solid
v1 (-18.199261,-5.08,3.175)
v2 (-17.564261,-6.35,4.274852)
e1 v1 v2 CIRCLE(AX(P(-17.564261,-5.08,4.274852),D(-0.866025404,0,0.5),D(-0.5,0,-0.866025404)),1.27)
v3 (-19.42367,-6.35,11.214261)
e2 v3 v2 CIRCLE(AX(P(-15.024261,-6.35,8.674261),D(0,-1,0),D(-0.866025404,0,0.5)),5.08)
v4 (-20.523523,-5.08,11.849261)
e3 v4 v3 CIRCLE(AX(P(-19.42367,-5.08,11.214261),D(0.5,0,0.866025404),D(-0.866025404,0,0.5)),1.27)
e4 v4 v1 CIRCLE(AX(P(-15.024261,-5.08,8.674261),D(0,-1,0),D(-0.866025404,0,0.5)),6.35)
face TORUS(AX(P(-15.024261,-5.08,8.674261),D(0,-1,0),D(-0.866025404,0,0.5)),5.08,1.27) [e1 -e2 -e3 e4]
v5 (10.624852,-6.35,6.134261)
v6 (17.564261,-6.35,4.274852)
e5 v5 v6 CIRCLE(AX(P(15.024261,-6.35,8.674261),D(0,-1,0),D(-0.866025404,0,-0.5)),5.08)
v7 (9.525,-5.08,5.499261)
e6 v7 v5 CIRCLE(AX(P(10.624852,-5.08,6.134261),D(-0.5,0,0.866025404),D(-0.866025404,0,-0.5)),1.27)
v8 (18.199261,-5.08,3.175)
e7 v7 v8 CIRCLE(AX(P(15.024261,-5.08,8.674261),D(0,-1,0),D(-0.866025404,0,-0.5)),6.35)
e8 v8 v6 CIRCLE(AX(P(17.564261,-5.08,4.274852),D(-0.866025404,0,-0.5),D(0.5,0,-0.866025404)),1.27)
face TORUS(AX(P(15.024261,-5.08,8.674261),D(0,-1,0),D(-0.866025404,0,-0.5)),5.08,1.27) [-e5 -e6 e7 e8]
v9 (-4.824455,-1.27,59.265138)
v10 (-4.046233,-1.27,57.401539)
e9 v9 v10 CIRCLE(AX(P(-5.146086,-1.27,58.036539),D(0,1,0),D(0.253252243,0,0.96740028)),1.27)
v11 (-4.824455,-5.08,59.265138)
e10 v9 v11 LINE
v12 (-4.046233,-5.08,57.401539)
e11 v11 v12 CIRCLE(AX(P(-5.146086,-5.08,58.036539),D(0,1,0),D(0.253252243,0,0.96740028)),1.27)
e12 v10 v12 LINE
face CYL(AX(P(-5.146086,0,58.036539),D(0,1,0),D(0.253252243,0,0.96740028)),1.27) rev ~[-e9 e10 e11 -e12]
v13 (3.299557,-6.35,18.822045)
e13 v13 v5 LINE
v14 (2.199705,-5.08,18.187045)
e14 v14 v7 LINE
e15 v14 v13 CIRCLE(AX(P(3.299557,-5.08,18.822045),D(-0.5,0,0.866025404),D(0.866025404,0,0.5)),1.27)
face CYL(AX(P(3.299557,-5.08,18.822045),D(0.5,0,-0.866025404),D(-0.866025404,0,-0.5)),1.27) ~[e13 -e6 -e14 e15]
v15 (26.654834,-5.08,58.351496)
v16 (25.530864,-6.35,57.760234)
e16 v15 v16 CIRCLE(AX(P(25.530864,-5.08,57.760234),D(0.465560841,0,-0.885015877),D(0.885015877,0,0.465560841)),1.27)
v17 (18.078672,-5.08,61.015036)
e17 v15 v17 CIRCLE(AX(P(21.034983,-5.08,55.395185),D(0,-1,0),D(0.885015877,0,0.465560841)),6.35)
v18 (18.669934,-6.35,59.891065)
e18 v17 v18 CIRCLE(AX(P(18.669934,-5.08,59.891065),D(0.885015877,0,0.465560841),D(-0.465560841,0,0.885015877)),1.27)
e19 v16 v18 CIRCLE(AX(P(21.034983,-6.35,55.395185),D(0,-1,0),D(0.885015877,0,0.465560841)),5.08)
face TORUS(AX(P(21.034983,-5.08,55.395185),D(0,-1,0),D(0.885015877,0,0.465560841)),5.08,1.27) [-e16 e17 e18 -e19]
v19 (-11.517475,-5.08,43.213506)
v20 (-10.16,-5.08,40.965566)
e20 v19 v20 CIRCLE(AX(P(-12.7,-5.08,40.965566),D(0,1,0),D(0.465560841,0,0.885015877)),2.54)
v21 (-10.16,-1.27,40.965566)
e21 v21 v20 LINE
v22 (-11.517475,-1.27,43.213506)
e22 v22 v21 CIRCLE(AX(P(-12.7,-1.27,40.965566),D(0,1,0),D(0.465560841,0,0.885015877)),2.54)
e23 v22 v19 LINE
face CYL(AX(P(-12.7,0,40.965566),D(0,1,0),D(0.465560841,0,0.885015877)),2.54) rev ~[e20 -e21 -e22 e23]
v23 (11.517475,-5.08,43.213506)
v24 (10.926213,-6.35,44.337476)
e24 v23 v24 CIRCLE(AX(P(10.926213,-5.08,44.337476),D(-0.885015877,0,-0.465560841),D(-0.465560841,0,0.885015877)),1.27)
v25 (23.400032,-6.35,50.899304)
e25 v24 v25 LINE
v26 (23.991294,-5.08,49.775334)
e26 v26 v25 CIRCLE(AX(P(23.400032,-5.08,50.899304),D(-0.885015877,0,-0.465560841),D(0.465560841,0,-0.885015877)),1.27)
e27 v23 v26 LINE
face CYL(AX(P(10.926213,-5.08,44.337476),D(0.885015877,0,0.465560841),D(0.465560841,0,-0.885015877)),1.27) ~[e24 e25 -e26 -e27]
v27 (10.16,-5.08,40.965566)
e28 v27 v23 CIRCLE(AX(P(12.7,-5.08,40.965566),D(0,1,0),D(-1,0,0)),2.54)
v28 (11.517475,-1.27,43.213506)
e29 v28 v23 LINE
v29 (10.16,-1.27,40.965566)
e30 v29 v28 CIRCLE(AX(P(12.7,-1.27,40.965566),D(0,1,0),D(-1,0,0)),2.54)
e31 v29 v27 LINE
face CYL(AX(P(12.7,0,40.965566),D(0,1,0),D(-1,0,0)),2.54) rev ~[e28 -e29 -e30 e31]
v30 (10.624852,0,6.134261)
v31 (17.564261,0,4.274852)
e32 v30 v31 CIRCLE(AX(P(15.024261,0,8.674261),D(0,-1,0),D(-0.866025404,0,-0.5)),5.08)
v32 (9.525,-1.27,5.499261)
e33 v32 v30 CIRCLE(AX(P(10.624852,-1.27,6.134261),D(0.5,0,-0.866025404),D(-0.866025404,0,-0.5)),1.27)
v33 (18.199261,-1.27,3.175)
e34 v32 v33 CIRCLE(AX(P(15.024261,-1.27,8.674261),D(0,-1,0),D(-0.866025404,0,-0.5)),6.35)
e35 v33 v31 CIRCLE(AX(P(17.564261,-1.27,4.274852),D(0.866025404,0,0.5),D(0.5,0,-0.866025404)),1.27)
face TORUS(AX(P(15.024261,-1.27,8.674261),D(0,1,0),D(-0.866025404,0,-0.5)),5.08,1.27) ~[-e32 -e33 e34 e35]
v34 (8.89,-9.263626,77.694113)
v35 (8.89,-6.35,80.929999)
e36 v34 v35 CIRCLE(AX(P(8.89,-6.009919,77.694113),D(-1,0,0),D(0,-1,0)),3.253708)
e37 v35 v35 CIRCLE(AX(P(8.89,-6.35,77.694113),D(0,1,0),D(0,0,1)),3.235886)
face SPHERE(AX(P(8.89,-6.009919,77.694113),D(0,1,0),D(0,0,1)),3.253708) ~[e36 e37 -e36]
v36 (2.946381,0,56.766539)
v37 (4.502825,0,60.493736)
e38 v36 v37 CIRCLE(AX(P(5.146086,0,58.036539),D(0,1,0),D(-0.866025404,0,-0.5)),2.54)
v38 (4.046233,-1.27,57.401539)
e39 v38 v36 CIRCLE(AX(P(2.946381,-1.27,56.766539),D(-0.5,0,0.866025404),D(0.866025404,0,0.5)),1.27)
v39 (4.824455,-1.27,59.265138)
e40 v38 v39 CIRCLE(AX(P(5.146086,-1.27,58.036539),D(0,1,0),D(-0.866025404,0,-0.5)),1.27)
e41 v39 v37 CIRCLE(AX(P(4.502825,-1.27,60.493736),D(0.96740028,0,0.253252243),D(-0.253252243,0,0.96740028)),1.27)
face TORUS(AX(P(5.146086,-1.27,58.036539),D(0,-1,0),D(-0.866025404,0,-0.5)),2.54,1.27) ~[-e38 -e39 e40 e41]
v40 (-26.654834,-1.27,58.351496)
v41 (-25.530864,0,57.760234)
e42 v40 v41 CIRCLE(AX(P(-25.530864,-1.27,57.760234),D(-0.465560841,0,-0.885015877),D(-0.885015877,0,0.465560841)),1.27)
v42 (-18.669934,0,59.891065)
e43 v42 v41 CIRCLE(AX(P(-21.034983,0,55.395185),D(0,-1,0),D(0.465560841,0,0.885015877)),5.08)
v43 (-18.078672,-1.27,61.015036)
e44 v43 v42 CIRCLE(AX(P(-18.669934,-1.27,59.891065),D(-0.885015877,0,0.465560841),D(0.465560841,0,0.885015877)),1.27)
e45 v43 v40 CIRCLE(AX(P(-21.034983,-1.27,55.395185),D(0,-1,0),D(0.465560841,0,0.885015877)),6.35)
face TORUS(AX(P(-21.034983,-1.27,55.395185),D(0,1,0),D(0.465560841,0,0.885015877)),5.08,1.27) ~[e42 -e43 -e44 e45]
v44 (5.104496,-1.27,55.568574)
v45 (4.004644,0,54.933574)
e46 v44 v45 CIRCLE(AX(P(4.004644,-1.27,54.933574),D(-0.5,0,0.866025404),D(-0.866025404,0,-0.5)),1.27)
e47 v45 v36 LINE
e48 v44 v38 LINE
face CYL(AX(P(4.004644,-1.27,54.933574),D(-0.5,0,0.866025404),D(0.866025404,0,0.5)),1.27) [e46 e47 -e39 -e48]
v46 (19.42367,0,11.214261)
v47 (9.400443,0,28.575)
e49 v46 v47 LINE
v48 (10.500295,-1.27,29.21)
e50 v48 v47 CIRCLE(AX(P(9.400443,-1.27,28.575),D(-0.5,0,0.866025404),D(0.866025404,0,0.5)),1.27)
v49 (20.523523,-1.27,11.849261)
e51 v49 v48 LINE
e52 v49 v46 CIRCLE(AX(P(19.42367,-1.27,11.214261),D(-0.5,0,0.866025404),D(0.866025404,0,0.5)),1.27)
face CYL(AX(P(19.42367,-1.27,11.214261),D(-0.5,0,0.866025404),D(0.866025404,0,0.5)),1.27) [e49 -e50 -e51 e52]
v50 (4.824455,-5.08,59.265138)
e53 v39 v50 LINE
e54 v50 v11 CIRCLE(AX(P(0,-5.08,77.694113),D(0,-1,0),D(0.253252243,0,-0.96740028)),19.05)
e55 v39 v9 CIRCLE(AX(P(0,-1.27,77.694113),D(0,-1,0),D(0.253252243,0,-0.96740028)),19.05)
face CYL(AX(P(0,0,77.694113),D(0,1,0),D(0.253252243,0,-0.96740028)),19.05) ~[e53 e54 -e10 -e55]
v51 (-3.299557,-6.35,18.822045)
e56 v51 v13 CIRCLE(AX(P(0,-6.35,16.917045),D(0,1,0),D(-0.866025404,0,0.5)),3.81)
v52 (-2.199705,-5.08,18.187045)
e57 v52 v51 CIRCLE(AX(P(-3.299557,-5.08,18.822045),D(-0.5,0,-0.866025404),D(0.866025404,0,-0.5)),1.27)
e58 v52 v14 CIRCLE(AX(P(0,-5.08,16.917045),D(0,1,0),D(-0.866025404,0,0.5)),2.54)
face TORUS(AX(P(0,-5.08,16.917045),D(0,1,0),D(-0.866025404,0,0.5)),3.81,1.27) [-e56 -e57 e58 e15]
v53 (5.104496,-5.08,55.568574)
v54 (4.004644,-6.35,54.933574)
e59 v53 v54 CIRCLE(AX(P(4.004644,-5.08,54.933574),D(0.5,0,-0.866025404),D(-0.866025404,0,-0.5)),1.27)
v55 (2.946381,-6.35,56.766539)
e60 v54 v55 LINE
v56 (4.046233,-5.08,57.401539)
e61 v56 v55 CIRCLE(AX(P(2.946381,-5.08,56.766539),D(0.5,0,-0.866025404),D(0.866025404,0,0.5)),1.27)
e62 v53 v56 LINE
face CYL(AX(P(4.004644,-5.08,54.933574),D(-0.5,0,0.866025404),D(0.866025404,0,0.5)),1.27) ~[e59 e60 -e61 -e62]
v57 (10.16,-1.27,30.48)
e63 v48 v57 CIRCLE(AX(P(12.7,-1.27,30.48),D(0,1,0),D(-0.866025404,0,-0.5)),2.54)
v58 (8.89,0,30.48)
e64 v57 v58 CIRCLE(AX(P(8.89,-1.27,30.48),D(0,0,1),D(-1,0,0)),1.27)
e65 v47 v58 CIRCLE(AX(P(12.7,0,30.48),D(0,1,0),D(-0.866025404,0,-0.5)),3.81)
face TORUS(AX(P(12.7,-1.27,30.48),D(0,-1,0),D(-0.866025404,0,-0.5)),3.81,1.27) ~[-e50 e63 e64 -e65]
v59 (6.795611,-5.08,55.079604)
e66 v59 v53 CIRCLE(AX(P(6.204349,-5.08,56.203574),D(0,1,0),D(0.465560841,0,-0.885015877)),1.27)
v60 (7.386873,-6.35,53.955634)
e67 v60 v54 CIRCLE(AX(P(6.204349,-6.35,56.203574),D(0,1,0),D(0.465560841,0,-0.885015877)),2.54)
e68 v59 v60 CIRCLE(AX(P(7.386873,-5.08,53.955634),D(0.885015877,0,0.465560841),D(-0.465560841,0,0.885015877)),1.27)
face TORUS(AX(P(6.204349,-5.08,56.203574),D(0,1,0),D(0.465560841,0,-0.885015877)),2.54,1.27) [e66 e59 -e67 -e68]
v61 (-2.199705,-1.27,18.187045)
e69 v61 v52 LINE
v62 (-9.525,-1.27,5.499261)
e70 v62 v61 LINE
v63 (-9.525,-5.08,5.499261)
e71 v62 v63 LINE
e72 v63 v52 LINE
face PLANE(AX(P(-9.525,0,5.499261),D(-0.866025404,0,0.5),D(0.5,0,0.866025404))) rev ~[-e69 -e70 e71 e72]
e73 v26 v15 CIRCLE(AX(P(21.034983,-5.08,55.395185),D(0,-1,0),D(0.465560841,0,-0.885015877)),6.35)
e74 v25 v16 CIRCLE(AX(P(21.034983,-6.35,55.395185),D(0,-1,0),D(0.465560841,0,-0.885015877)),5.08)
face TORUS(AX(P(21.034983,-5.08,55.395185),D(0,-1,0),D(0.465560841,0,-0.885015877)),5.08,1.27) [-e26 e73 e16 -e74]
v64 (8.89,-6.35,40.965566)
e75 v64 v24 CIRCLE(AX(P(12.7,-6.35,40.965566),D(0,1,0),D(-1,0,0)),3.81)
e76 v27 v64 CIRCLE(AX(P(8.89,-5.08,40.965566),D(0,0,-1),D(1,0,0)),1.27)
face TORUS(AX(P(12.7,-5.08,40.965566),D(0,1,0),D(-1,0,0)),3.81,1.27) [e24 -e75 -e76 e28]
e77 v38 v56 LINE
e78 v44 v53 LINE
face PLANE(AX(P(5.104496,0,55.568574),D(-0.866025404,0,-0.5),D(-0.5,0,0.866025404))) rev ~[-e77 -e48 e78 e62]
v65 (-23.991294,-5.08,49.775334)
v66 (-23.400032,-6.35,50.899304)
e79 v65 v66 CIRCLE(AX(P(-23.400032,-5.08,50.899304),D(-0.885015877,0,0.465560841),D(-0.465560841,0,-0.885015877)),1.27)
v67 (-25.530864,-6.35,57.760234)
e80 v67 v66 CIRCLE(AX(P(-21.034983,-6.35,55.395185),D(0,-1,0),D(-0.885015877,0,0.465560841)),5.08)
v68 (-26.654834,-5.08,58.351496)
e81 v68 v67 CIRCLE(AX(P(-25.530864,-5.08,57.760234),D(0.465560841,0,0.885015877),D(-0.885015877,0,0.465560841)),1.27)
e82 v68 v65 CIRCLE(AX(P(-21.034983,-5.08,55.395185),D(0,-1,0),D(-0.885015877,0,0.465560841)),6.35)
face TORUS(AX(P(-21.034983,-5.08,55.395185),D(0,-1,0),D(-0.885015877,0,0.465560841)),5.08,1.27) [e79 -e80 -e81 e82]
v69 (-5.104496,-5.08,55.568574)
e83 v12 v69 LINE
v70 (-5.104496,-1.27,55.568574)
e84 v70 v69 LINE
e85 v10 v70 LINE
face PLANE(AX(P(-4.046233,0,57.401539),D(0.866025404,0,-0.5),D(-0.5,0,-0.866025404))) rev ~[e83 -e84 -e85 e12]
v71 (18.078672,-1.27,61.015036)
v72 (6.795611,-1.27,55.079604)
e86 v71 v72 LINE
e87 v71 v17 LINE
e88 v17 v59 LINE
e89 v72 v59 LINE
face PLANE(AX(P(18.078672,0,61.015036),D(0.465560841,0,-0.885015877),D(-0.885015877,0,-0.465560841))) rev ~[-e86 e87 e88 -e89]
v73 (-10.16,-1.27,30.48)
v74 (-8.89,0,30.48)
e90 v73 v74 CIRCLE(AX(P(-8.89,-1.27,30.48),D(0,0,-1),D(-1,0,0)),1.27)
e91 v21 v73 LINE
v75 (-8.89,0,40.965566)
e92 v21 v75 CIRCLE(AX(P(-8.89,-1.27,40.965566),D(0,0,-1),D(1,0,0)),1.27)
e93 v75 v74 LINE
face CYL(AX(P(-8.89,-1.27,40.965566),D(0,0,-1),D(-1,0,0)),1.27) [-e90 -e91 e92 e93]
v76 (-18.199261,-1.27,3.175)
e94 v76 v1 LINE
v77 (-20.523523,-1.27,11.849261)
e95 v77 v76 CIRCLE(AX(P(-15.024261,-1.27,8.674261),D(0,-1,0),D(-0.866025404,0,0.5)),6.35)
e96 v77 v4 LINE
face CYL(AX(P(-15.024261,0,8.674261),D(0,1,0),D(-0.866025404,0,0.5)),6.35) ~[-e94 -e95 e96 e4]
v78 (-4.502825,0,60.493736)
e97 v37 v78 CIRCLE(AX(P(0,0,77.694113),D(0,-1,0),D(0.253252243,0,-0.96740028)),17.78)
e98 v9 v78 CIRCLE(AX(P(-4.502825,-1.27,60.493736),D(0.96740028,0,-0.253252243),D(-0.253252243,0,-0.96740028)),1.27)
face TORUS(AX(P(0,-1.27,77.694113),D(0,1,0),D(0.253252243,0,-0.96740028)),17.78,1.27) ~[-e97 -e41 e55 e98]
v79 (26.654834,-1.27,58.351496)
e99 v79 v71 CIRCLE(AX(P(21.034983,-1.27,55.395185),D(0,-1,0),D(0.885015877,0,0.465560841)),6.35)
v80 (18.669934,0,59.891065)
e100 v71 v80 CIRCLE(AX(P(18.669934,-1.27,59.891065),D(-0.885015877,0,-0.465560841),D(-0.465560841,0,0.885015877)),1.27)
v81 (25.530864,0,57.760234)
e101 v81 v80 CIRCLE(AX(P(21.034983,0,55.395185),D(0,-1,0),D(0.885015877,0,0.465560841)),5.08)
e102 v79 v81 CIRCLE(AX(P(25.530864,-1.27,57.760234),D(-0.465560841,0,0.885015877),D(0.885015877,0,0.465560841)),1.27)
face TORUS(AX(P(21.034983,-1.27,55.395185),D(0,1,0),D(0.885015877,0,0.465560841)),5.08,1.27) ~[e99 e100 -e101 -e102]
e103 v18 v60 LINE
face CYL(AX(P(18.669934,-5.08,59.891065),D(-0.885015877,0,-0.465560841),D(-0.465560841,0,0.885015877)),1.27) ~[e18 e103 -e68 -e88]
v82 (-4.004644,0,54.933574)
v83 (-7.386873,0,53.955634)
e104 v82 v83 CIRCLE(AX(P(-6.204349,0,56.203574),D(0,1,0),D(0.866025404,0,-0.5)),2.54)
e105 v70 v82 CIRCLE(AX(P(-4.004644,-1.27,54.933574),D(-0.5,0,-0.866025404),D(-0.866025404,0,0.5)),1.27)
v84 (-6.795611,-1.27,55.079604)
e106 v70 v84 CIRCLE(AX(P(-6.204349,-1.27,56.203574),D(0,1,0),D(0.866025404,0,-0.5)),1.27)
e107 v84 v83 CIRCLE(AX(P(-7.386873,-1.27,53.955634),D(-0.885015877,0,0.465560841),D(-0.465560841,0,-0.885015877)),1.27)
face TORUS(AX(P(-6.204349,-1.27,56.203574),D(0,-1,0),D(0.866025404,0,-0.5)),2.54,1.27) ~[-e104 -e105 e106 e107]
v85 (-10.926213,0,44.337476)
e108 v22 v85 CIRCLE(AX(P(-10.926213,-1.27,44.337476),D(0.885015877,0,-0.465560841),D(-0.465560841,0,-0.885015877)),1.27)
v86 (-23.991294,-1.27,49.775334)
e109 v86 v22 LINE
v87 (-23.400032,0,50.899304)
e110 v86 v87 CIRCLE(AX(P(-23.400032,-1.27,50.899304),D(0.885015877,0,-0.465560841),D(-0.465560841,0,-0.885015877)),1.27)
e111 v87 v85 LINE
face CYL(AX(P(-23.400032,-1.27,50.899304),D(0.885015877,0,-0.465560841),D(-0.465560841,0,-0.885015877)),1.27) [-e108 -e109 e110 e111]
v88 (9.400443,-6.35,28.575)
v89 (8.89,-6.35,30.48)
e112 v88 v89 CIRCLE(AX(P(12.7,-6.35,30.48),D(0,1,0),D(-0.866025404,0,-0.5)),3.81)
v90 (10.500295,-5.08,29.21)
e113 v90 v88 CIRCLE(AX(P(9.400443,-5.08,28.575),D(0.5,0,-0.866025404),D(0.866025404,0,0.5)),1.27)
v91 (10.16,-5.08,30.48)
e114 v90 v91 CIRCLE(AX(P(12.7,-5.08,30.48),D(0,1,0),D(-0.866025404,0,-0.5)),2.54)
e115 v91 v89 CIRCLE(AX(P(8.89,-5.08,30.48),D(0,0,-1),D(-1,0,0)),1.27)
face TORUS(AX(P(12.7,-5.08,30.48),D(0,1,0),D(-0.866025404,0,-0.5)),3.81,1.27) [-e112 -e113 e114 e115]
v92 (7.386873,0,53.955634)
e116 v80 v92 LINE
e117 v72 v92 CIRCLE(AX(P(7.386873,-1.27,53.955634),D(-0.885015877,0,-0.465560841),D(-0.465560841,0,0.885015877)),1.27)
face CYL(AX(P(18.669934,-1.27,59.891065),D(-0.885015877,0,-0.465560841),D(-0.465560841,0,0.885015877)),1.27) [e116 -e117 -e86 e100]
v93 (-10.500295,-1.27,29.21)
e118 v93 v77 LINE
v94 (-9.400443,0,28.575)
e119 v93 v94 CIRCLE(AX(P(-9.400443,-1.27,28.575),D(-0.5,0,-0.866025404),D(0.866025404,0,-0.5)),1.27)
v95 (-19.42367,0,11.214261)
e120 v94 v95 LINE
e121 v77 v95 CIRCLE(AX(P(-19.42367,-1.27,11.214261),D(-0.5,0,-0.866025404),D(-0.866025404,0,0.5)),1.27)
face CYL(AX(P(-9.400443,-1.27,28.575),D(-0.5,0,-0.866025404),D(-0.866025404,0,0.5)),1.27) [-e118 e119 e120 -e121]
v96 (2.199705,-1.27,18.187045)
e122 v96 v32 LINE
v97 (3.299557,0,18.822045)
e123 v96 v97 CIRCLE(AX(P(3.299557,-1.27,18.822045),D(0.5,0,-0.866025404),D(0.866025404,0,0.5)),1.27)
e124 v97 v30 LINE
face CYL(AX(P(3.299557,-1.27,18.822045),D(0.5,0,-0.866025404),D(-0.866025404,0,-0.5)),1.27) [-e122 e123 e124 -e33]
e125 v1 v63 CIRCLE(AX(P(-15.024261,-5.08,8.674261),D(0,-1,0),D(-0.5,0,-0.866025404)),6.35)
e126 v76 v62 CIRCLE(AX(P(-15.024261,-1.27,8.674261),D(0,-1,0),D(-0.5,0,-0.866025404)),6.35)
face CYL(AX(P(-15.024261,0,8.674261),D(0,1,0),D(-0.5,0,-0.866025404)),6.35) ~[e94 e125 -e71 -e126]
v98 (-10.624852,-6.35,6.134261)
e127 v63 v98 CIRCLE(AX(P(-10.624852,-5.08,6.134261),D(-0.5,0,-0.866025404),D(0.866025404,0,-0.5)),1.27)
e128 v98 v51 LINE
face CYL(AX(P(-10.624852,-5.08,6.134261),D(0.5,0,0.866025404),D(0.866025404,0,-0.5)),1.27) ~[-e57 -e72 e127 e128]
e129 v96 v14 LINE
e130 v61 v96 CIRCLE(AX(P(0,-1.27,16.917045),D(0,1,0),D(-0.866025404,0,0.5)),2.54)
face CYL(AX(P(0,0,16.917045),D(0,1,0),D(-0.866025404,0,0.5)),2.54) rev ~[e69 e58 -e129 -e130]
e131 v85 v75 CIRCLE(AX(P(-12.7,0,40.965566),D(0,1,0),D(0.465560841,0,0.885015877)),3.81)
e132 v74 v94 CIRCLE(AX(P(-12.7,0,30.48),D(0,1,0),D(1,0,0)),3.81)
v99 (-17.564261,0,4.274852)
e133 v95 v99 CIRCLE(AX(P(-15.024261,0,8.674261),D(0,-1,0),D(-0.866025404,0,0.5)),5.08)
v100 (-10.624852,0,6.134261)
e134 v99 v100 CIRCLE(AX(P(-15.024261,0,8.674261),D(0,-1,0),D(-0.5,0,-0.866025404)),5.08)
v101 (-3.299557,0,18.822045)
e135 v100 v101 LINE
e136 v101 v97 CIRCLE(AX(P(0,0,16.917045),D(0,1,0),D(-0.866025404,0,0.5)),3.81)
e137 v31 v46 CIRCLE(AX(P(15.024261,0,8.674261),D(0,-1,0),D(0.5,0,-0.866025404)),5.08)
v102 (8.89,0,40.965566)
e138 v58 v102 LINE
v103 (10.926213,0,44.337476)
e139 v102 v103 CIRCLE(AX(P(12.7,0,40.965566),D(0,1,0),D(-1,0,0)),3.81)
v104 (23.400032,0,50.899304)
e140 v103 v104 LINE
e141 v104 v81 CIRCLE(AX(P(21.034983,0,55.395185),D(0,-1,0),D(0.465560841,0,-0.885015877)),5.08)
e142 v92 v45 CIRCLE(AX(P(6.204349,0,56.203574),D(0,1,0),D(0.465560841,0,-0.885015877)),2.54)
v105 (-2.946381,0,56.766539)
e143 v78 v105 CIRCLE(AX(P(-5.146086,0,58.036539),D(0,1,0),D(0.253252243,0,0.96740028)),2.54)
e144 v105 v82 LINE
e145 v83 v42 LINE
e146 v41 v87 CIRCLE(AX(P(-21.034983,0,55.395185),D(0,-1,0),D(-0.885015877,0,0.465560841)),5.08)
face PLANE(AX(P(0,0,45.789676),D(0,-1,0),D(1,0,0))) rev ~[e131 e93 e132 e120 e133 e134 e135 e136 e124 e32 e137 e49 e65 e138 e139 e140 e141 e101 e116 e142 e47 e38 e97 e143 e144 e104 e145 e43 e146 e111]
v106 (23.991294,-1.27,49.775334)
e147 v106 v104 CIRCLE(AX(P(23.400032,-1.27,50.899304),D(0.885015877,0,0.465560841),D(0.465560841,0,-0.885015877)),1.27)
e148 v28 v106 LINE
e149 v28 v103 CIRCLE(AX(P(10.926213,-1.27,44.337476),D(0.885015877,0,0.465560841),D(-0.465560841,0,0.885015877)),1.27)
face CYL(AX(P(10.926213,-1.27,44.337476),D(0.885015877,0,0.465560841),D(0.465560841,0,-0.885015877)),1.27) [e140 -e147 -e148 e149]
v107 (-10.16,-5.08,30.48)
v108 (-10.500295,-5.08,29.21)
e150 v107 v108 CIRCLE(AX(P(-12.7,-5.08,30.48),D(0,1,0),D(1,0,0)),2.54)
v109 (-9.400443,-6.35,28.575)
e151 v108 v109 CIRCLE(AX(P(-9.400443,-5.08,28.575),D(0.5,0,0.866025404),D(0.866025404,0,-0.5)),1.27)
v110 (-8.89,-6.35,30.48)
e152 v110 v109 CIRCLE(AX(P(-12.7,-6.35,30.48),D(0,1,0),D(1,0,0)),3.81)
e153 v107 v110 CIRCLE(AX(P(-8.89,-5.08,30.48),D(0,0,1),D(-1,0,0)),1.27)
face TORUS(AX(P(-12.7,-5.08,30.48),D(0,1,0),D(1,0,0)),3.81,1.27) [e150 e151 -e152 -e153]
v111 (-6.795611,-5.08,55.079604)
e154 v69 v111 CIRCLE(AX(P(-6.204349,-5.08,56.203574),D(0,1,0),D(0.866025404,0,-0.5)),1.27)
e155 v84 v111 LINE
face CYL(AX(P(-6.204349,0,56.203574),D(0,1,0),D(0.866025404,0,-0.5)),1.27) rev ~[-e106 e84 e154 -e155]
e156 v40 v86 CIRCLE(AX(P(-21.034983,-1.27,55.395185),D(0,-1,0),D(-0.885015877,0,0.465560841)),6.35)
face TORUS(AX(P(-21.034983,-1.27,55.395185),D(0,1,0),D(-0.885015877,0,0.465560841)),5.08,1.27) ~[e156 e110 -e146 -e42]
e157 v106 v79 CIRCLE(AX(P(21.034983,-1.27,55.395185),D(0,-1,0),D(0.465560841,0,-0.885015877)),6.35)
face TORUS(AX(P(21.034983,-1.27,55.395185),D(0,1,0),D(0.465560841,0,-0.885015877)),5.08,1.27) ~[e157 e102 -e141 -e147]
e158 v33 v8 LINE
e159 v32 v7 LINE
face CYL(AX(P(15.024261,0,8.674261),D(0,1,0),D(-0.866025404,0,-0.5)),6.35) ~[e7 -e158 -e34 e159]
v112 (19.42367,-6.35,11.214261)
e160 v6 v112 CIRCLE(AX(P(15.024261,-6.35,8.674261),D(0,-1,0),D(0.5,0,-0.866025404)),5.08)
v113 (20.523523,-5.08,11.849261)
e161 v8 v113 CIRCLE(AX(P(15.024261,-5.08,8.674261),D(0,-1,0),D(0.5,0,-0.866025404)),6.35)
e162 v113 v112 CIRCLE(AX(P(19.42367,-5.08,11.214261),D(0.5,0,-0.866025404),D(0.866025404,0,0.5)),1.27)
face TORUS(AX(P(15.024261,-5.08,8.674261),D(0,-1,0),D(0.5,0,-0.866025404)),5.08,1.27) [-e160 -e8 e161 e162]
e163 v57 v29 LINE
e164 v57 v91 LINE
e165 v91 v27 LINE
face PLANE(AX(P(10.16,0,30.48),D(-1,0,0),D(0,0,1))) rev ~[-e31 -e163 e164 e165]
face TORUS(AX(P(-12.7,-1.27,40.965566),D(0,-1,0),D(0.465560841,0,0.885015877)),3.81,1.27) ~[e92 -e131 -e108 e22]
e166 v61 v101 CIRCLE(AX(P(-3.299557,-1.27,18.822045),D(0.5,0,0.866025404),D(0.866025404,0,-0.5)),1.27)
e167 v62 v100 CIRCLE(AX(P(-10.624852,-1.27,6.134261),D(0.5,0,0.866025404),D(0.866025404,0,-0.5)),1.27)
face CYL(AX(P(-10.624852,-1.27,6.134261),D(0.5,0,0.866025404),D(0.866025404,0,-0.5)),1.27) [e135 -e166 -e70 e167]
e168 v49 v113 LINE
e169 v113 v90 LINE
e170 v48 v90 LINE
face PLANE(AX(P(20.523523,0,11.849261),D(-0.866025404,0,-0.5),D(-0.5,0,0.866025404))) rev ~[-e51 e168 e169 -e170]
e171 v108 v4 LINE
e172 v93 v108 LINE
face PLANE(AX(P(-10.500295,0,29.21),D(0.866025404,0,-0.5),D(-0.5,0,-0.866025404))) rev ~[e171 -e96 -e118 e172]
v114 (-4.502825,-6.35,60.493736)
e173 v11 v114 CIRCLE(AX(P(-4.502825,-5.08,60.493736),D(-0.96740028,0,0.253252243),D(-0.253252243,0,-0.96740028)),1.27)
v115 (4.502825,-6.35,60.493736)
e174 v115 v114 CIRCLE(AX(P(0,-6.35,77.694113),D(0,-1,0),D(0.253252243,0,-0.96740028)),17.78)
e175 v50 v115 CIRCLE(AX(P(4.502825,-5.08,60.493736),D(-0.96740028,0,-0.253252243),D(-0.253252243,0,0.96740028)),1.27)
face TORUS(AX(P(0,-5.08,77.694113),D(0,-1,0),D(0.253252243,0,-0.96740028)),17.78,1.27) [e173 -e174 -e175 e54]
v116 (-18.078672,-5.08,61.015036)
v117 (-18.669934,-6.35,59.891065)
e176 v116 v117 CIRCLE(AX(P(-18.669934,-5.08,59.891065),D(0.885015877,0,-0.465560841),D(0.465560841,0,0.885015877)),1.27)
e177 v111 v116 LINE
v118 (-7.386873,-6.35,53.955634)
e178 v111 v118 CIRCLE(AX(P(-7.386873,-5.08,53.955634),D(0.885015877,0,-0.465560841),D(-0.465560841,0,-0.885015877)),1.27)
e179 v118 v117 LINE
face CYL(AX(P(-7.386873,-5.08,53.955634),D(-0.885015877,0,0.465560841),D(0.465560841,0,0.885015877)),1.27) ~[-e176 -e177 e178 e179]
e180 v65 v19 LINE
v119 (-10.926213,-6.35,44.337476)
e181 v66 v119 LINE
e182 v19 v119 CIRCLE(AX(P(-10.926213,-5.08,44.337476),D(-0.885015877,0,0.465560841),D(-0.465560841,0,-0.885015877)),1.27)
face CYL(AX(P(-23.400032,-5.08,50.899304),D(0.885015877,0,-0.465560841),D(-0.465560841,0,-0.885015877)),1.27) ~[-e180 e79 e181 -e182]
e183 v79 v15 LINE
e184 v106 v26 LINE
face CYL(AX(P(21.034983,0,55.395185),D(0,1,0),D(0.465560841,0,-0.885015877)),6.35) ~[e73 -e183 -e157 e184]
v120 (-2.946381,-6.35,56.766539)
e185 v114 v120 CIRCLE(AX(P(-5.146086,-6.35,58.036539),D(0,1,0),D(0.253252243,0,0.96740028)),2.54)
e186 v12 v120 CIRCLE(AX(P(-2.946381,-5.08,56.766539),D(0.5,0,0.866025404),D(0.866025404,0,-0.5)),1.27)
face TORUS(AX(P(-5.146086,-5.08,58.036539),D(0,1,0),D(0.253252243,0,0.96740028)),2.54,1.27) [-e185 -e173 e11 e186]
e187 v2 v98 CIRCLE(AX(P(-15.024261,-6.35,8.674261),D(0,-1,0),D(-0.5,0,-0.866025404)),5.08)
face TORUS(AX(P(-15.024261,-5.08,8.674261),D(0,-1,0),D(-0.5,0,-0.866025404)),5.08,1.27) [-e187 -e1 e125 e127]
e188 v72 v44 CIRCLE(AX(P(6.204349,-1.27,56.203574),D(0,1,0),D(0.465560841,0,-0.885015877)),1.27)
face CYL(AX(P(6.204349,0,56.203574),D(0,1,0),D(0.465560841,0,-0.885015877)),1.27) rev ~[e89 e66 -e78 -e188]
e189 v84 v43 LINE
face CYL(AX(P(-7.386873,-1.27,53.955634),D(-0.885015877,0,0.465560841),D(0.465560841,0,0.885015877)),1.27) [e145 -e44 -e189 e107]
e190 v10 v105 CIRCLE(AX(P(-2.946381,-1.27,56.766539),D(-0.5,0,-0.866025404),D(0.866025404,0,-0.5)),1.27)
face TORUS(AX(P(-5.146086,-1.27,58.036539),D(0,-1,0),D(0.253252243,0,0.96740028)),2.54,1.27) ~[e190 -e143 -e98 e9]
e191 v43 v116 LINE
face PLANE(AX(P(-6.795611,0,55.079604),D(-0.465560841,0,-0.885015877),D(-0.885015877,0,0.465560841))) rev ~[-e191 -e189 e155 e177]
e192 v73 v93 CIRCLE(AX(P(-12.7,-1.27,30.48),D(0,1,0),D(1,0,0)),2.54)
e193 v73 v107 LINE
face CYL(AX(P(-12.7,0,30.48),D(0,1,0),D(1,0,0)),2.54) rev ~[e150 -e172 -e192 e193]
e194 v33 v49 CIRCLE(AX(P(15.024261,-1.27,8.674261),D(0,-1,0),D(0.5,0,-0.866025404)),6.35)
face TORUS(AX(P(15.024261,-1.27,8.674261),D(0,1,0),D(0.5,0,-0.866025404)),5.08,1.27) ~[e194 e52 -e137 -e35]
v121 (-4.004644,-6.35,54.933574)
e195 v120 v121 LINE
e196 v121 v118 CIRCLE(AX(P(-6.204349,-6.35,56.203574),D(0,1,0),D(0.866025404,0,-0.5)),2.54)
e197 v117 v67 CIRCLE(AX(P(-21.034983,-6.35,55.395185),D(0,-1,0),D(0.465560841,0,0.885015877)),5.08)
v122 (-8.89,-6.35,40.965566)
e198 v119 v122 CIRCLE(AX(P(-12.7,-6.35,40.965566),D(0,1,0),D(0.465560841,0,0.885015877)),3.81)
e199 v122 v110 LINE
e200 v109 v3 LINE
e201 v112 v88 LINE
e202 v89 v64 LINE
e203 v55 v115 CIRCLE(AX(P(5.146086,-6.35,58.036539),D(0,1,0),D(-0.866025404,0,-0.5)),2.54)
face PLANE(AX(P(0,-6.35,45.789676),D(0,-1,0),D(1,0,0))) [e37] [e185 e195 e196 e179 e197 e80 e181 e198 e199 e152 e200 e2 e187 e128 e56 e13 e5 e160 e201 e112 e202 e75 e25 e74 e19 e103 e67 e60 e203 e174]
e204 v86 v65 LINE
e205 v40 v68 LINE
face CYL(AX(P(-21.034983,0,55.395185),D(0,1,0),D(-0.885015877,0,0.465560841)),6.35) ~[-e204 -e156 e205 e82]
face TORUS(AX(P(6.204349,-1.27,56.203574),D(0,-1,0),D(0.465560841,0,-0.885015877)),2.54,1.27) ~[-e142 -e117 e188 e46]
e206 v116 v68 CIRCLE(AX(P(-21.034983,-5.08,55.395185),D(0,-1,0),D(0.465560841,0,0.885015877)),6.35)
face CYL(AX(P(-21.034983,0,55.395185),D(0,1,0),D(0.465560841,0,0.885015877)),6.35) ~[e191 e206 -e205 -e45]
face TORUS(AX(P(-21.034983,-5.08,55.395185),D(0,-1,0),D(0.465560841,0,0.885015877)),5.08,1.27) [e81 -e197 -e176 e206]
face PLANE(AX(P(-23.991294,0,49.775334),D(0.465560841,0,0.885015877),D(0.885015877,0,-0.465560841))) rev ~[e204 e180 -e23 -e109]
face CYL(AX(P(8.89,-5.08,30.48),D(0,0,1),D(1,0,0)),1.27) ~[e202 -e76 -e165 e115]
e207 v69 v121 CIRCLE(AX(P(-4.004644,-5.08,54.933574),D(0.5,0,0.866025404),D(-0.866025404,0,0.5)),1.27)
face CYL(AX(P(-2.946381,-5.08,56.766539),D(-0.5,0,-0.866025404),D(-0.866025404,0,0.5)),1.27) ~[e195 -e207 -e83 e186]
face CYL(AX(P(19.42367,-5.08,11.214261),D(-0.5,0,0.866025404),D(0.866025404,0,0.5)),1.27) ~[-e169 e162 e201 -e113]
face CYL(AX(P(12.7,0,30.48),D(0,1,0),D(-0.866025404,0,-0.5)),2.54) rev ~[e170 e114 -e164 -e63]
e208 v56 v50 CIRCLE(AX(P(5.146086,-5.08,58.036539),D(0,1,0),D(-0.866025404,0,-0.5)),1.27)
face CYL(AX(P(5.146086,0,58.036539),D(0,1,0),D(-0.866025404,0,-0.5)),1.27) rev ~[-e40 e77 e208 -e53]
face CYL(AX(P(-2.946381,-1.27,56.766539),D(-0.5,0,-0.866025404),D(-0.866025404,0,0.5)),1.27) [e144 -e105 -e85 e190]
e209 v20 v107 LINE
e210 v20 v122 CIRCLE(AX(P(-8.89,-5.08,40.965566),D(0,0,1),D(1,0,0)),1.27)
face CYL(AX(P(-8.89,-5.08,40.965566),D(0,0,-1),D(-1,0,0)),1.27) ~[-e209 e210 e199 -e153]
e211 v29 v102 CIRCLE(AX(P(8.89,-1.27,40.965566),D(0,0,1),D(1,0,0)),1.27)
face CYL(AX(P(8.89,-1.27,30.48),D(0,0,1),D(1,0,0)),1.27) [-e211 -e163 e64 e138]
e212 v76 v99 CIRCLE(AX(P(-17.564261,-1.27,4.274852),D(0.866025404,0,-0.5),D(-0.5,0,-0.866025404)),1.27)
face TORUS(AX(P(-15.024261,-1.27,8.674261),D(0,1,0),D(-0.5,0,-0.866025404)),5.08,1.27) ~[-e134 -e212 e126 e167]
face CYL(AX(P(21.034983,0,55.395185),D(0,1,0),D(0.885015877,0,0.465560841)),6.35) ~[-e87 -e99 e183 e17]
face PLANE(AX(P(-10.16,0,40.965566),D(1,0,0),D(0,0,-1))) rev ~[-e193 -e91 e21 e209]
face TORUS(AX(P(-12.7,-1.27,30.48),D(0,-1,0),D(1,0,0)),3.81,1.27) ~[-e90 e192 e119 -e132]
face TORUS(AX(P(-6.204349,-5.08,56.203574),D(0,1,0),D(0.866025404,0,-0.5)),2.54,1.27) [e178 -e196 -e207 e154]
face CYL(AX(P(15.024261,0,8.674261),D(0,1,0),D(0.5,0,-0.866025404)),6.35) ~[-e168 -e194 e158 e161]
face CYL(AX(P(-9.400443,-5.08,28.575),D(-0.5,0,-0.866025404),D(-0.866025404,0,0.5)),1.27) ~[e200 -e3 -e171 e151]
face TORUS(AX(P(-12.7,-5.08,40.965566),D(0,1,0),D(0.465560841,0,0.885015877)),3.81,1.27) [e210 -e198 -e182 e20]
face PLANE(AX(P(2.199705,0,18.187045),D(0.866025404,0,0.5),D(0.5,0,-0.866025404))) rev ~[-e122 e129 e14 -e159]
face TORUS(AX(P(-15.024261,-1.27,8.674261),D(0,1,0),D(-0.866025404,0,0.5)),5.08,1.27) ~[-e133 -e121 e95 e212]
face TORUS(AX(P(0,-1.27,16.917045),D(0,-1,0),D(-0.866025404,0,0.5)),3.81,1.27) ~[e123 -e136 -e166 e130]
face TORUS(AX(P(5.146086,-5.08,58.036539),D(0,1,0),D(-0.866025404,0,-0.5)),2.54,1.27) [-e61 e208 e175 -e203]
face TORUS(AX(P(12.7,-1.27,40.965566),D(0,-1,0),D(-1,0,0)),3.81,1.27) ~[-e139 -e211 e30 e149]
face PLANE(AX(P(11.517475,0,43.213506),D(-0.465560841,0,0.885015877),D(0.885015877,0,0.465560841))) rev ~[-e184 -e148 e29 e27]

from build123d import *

# Parameters (mm, degrees)
F1_DEPTH = 6.35
F2_R     = 1.27


with BuildPart() as f1:
    # F0 (on Front) → F1 (new body)
    with BuildSketch(Plane.XZ):
        with BuildLine():
            ThreePointArc((4.046233319, 57.4015393629), (3.9741628406, 58.5259237606), (4.8244552329, 59.2651377182))
            ThreePointArc((4.8244552329, 59.2651377182), (0, 96.744113048), (-4.8244552329, 59.2651377182))
            ThreePointArc((-4.8244552329, 59.2651377182), (-3.9741628406, 58.5259237606), (-4.046233319, 57.4015393629))
            Line((-4.046233319, 57.4015393629), (-5.1044963377, 55.5685740468))
            ThreePointArc((-5.1044963377, 55.5685740468), (-5.8515896161, 54.9835490065), (-6.7956108687, 55.0796038826))
            Line((-6.7956108687, 55.0796038826), (-18.0786718068, 61.0150356363))
            ThreePointArc((-18.0786718068, 61.0150356363), (-22.9183899763, 61.4594472367), (-26.6548339694, 58.3514961563))
            ThreePointArc((-26.6548339694, 58.3514961563), (-27.0992455698, 53.5117779868), (-23.9912944894, 49.7753339938))
            Line((-23.9912944894, 49.7753339938), (-11.5174754635, 43.2135063175))
            ThreePointArc((-11.5174754635, 43.2135063175), (-10.5256940966, 42.2785754477), (-10.16, 40.965565989))
            Line((-10.16, 40.965565989), (-10.16, 30.48))
            ThreePointArc((-10.16, 30.48), (-10.2465484012, 29.8225996254), (-10.5002954744, 29.21))
            Line((-10.5002954744, 29.21), (-20.5235226281, 11.849261314))
            ThreePointArc((-20.5235226281, 11.849261314), (-21.157890311, 7.0307603776), (-18.199261314, 3.175))
            ThreePointArc((-18.199261314, 3.175), (-13.3807603776, 2.5406323171), (-9.525, 5.499261314))
            Line((-9.525, 5.499261314), (-2.1997045256, 18.1870452561))
            ThreePointArc((-2.1997045256, 18.1870452561), (0, 19.4570452561), (2.1997045256, 18.1870452561))
            Line((2.1997045256, 18.1870452561), (9.525, 5.499261314))
            ThreePointArc((9.525, 5.499261314), (13.3807603776, 2.5406323171), (18.199261314, 3.175))
            ThreePointArc((18.199261314, 3.175), (21.157890311, 7.0307603776), (20.5235226281, 11.849261314))
            Line((20.5235226281, 11.849261314), (10.5002954744, 29.21))
            ThreePointArc((10.5002954744, 29.21), (10.2465484012, 29.8225996254), (10.16, 30.48))
            Line((10.16, 30.48), (10.16, 40.965565989))
            ThreePointArc((10.16, 40.965565989), (10.5256940966, 42.2785754477), (11.5174754635, 43.2135063175))
            Line((11.5174754635, 43.2135063175), (23.9912944894, 49.7753339938))
            ThreePointArc((23.9912944894, 49.7753339938), (27.0992455698, 53.5117779868), (26.6548339694, 58.3514961563))
            ThreePointArc((26.6548339694, 58.3514961563), (22.9183899763, 61.4594472367), (18.0786718068, 61.0150356363))
            Line((18.0786718068, 61.0150356363), (6.7956108687, 55.0796038826))
            ThreePointArc((6.7956108687, 55.0796038826), (5.8515896161, 54.9835490065), (5.1044963377, 55.5685740468))
            Line((5.1044963377, 55.5685740468), (4.046233319, 57.4015393629))
        make_face()
    extrude(amount=F1_DEPTH)

    # F2
    f2_edges = [f1.edges().sort_by_distance(p)[0] for p in [
        (15.511909, -6.35, 20.529631),
        (10.246548, -6.35, 29.8226),
        (10.16, -6.35, 35.722783),
        (10.525694, -6.35, 42.278575),
        (17.754385, -6.35, 46.49442),
        (26.654834, -6.35, 58.351496),
        (12.437141, -6.35, 58.04732),
        (5.85159, -6.35, 54.983549),
        (4.575365, -6.35, 56.485057),
        (3.974163, -6.35, 58.525924),
        (0, -6.35, 96.744113),
        (-3.974163, -6.35, 58.525924),
        (-4.575365, -6.35, 56.485057),
        (-5.85159, -6.35, 54.983549),
        (-12.437141, -6.35, 58.04732),
        (-26.654834, -6.35, 58.351496),
        (-17.754385, -6.35, 46.49442),
        (-10.525694, -6.35, 42.278575),
        (-10.16, -6.35, 35.722783),
        (-10.246548, -6.35, 29.8226),
        (-15.511909, -6.35, 20.529631),
        (-18.199261, -6.35, 3.175),
        (-5.862352, -6.35, 11.843153),
        (0, -6.35, 19.457045),
        (5.862352, -6.35, 11.843153),
        (18.199261, -6.35, 3.175),
        (15.511909, 0, 20.529631),
        (10.246548, 0, 29.8226),
        (10.16, 0, 35.722783),
        (10.525694, 0, 42.278575),
        (17.754385, 0, 46.49442),
        (26.654834, 0, 58.351496),
        (12.437141, 0, 58.04732),
        (5.85159, 0, 54.983549),
        (4.575365, 0, 56.485057),
        (3.974163, 0, 58.525924),
        (0, 0, 96.744113),
        (-3.974163, 0, 58.525924),
        (-4.575365, 0, 56.485057),
        (-5.85159, 0, 54.983549),
        (-12.437141, 0, 58.04732),
        (-26.654834, 0, 58.351496),
        (-17.754385, 0, 46.49442),
        (-10.525694, 0, 42.278575),
        (-10.16, 0, 35.722783),
        (-10.246548, 0, 29.8226),
        (-15.511909, 0, 20.529631),
        (-18.199261, 0, 3.175),
        (-5.862352, 0, 11.843153),
        (0, 0, 19.457045),
        (5.862352, 0, 11.843153),
        (18.199261, 0, 3.175),
    ]]
    fillet(f2_edges, radius=F2_R)

    # F7 (on line) → F8 (revolve)
    with BuildSketch(Plane(origin=(8.89, 0, 0), x_dir=(0, -1, 0), z_dir=(-1, 0, 0))):
        with BuildLine():
            ThreePointArc((9.2636264657, 77.694113048), (7.9248046517, 80.3246692519), (5.0101246152, 80.7904053104))
            Line((5.0101246152, 80.7904053104), (5.0101246152, 77.694113048))
            Line((5.0101246152, 77.694113048), (9.2636264657, 77.694113048))
        make_face()
    revolve(axis=Axis((8.89, -7.1368755405, 77.694113048), (0, -1, 0)))


solid = f1.part
